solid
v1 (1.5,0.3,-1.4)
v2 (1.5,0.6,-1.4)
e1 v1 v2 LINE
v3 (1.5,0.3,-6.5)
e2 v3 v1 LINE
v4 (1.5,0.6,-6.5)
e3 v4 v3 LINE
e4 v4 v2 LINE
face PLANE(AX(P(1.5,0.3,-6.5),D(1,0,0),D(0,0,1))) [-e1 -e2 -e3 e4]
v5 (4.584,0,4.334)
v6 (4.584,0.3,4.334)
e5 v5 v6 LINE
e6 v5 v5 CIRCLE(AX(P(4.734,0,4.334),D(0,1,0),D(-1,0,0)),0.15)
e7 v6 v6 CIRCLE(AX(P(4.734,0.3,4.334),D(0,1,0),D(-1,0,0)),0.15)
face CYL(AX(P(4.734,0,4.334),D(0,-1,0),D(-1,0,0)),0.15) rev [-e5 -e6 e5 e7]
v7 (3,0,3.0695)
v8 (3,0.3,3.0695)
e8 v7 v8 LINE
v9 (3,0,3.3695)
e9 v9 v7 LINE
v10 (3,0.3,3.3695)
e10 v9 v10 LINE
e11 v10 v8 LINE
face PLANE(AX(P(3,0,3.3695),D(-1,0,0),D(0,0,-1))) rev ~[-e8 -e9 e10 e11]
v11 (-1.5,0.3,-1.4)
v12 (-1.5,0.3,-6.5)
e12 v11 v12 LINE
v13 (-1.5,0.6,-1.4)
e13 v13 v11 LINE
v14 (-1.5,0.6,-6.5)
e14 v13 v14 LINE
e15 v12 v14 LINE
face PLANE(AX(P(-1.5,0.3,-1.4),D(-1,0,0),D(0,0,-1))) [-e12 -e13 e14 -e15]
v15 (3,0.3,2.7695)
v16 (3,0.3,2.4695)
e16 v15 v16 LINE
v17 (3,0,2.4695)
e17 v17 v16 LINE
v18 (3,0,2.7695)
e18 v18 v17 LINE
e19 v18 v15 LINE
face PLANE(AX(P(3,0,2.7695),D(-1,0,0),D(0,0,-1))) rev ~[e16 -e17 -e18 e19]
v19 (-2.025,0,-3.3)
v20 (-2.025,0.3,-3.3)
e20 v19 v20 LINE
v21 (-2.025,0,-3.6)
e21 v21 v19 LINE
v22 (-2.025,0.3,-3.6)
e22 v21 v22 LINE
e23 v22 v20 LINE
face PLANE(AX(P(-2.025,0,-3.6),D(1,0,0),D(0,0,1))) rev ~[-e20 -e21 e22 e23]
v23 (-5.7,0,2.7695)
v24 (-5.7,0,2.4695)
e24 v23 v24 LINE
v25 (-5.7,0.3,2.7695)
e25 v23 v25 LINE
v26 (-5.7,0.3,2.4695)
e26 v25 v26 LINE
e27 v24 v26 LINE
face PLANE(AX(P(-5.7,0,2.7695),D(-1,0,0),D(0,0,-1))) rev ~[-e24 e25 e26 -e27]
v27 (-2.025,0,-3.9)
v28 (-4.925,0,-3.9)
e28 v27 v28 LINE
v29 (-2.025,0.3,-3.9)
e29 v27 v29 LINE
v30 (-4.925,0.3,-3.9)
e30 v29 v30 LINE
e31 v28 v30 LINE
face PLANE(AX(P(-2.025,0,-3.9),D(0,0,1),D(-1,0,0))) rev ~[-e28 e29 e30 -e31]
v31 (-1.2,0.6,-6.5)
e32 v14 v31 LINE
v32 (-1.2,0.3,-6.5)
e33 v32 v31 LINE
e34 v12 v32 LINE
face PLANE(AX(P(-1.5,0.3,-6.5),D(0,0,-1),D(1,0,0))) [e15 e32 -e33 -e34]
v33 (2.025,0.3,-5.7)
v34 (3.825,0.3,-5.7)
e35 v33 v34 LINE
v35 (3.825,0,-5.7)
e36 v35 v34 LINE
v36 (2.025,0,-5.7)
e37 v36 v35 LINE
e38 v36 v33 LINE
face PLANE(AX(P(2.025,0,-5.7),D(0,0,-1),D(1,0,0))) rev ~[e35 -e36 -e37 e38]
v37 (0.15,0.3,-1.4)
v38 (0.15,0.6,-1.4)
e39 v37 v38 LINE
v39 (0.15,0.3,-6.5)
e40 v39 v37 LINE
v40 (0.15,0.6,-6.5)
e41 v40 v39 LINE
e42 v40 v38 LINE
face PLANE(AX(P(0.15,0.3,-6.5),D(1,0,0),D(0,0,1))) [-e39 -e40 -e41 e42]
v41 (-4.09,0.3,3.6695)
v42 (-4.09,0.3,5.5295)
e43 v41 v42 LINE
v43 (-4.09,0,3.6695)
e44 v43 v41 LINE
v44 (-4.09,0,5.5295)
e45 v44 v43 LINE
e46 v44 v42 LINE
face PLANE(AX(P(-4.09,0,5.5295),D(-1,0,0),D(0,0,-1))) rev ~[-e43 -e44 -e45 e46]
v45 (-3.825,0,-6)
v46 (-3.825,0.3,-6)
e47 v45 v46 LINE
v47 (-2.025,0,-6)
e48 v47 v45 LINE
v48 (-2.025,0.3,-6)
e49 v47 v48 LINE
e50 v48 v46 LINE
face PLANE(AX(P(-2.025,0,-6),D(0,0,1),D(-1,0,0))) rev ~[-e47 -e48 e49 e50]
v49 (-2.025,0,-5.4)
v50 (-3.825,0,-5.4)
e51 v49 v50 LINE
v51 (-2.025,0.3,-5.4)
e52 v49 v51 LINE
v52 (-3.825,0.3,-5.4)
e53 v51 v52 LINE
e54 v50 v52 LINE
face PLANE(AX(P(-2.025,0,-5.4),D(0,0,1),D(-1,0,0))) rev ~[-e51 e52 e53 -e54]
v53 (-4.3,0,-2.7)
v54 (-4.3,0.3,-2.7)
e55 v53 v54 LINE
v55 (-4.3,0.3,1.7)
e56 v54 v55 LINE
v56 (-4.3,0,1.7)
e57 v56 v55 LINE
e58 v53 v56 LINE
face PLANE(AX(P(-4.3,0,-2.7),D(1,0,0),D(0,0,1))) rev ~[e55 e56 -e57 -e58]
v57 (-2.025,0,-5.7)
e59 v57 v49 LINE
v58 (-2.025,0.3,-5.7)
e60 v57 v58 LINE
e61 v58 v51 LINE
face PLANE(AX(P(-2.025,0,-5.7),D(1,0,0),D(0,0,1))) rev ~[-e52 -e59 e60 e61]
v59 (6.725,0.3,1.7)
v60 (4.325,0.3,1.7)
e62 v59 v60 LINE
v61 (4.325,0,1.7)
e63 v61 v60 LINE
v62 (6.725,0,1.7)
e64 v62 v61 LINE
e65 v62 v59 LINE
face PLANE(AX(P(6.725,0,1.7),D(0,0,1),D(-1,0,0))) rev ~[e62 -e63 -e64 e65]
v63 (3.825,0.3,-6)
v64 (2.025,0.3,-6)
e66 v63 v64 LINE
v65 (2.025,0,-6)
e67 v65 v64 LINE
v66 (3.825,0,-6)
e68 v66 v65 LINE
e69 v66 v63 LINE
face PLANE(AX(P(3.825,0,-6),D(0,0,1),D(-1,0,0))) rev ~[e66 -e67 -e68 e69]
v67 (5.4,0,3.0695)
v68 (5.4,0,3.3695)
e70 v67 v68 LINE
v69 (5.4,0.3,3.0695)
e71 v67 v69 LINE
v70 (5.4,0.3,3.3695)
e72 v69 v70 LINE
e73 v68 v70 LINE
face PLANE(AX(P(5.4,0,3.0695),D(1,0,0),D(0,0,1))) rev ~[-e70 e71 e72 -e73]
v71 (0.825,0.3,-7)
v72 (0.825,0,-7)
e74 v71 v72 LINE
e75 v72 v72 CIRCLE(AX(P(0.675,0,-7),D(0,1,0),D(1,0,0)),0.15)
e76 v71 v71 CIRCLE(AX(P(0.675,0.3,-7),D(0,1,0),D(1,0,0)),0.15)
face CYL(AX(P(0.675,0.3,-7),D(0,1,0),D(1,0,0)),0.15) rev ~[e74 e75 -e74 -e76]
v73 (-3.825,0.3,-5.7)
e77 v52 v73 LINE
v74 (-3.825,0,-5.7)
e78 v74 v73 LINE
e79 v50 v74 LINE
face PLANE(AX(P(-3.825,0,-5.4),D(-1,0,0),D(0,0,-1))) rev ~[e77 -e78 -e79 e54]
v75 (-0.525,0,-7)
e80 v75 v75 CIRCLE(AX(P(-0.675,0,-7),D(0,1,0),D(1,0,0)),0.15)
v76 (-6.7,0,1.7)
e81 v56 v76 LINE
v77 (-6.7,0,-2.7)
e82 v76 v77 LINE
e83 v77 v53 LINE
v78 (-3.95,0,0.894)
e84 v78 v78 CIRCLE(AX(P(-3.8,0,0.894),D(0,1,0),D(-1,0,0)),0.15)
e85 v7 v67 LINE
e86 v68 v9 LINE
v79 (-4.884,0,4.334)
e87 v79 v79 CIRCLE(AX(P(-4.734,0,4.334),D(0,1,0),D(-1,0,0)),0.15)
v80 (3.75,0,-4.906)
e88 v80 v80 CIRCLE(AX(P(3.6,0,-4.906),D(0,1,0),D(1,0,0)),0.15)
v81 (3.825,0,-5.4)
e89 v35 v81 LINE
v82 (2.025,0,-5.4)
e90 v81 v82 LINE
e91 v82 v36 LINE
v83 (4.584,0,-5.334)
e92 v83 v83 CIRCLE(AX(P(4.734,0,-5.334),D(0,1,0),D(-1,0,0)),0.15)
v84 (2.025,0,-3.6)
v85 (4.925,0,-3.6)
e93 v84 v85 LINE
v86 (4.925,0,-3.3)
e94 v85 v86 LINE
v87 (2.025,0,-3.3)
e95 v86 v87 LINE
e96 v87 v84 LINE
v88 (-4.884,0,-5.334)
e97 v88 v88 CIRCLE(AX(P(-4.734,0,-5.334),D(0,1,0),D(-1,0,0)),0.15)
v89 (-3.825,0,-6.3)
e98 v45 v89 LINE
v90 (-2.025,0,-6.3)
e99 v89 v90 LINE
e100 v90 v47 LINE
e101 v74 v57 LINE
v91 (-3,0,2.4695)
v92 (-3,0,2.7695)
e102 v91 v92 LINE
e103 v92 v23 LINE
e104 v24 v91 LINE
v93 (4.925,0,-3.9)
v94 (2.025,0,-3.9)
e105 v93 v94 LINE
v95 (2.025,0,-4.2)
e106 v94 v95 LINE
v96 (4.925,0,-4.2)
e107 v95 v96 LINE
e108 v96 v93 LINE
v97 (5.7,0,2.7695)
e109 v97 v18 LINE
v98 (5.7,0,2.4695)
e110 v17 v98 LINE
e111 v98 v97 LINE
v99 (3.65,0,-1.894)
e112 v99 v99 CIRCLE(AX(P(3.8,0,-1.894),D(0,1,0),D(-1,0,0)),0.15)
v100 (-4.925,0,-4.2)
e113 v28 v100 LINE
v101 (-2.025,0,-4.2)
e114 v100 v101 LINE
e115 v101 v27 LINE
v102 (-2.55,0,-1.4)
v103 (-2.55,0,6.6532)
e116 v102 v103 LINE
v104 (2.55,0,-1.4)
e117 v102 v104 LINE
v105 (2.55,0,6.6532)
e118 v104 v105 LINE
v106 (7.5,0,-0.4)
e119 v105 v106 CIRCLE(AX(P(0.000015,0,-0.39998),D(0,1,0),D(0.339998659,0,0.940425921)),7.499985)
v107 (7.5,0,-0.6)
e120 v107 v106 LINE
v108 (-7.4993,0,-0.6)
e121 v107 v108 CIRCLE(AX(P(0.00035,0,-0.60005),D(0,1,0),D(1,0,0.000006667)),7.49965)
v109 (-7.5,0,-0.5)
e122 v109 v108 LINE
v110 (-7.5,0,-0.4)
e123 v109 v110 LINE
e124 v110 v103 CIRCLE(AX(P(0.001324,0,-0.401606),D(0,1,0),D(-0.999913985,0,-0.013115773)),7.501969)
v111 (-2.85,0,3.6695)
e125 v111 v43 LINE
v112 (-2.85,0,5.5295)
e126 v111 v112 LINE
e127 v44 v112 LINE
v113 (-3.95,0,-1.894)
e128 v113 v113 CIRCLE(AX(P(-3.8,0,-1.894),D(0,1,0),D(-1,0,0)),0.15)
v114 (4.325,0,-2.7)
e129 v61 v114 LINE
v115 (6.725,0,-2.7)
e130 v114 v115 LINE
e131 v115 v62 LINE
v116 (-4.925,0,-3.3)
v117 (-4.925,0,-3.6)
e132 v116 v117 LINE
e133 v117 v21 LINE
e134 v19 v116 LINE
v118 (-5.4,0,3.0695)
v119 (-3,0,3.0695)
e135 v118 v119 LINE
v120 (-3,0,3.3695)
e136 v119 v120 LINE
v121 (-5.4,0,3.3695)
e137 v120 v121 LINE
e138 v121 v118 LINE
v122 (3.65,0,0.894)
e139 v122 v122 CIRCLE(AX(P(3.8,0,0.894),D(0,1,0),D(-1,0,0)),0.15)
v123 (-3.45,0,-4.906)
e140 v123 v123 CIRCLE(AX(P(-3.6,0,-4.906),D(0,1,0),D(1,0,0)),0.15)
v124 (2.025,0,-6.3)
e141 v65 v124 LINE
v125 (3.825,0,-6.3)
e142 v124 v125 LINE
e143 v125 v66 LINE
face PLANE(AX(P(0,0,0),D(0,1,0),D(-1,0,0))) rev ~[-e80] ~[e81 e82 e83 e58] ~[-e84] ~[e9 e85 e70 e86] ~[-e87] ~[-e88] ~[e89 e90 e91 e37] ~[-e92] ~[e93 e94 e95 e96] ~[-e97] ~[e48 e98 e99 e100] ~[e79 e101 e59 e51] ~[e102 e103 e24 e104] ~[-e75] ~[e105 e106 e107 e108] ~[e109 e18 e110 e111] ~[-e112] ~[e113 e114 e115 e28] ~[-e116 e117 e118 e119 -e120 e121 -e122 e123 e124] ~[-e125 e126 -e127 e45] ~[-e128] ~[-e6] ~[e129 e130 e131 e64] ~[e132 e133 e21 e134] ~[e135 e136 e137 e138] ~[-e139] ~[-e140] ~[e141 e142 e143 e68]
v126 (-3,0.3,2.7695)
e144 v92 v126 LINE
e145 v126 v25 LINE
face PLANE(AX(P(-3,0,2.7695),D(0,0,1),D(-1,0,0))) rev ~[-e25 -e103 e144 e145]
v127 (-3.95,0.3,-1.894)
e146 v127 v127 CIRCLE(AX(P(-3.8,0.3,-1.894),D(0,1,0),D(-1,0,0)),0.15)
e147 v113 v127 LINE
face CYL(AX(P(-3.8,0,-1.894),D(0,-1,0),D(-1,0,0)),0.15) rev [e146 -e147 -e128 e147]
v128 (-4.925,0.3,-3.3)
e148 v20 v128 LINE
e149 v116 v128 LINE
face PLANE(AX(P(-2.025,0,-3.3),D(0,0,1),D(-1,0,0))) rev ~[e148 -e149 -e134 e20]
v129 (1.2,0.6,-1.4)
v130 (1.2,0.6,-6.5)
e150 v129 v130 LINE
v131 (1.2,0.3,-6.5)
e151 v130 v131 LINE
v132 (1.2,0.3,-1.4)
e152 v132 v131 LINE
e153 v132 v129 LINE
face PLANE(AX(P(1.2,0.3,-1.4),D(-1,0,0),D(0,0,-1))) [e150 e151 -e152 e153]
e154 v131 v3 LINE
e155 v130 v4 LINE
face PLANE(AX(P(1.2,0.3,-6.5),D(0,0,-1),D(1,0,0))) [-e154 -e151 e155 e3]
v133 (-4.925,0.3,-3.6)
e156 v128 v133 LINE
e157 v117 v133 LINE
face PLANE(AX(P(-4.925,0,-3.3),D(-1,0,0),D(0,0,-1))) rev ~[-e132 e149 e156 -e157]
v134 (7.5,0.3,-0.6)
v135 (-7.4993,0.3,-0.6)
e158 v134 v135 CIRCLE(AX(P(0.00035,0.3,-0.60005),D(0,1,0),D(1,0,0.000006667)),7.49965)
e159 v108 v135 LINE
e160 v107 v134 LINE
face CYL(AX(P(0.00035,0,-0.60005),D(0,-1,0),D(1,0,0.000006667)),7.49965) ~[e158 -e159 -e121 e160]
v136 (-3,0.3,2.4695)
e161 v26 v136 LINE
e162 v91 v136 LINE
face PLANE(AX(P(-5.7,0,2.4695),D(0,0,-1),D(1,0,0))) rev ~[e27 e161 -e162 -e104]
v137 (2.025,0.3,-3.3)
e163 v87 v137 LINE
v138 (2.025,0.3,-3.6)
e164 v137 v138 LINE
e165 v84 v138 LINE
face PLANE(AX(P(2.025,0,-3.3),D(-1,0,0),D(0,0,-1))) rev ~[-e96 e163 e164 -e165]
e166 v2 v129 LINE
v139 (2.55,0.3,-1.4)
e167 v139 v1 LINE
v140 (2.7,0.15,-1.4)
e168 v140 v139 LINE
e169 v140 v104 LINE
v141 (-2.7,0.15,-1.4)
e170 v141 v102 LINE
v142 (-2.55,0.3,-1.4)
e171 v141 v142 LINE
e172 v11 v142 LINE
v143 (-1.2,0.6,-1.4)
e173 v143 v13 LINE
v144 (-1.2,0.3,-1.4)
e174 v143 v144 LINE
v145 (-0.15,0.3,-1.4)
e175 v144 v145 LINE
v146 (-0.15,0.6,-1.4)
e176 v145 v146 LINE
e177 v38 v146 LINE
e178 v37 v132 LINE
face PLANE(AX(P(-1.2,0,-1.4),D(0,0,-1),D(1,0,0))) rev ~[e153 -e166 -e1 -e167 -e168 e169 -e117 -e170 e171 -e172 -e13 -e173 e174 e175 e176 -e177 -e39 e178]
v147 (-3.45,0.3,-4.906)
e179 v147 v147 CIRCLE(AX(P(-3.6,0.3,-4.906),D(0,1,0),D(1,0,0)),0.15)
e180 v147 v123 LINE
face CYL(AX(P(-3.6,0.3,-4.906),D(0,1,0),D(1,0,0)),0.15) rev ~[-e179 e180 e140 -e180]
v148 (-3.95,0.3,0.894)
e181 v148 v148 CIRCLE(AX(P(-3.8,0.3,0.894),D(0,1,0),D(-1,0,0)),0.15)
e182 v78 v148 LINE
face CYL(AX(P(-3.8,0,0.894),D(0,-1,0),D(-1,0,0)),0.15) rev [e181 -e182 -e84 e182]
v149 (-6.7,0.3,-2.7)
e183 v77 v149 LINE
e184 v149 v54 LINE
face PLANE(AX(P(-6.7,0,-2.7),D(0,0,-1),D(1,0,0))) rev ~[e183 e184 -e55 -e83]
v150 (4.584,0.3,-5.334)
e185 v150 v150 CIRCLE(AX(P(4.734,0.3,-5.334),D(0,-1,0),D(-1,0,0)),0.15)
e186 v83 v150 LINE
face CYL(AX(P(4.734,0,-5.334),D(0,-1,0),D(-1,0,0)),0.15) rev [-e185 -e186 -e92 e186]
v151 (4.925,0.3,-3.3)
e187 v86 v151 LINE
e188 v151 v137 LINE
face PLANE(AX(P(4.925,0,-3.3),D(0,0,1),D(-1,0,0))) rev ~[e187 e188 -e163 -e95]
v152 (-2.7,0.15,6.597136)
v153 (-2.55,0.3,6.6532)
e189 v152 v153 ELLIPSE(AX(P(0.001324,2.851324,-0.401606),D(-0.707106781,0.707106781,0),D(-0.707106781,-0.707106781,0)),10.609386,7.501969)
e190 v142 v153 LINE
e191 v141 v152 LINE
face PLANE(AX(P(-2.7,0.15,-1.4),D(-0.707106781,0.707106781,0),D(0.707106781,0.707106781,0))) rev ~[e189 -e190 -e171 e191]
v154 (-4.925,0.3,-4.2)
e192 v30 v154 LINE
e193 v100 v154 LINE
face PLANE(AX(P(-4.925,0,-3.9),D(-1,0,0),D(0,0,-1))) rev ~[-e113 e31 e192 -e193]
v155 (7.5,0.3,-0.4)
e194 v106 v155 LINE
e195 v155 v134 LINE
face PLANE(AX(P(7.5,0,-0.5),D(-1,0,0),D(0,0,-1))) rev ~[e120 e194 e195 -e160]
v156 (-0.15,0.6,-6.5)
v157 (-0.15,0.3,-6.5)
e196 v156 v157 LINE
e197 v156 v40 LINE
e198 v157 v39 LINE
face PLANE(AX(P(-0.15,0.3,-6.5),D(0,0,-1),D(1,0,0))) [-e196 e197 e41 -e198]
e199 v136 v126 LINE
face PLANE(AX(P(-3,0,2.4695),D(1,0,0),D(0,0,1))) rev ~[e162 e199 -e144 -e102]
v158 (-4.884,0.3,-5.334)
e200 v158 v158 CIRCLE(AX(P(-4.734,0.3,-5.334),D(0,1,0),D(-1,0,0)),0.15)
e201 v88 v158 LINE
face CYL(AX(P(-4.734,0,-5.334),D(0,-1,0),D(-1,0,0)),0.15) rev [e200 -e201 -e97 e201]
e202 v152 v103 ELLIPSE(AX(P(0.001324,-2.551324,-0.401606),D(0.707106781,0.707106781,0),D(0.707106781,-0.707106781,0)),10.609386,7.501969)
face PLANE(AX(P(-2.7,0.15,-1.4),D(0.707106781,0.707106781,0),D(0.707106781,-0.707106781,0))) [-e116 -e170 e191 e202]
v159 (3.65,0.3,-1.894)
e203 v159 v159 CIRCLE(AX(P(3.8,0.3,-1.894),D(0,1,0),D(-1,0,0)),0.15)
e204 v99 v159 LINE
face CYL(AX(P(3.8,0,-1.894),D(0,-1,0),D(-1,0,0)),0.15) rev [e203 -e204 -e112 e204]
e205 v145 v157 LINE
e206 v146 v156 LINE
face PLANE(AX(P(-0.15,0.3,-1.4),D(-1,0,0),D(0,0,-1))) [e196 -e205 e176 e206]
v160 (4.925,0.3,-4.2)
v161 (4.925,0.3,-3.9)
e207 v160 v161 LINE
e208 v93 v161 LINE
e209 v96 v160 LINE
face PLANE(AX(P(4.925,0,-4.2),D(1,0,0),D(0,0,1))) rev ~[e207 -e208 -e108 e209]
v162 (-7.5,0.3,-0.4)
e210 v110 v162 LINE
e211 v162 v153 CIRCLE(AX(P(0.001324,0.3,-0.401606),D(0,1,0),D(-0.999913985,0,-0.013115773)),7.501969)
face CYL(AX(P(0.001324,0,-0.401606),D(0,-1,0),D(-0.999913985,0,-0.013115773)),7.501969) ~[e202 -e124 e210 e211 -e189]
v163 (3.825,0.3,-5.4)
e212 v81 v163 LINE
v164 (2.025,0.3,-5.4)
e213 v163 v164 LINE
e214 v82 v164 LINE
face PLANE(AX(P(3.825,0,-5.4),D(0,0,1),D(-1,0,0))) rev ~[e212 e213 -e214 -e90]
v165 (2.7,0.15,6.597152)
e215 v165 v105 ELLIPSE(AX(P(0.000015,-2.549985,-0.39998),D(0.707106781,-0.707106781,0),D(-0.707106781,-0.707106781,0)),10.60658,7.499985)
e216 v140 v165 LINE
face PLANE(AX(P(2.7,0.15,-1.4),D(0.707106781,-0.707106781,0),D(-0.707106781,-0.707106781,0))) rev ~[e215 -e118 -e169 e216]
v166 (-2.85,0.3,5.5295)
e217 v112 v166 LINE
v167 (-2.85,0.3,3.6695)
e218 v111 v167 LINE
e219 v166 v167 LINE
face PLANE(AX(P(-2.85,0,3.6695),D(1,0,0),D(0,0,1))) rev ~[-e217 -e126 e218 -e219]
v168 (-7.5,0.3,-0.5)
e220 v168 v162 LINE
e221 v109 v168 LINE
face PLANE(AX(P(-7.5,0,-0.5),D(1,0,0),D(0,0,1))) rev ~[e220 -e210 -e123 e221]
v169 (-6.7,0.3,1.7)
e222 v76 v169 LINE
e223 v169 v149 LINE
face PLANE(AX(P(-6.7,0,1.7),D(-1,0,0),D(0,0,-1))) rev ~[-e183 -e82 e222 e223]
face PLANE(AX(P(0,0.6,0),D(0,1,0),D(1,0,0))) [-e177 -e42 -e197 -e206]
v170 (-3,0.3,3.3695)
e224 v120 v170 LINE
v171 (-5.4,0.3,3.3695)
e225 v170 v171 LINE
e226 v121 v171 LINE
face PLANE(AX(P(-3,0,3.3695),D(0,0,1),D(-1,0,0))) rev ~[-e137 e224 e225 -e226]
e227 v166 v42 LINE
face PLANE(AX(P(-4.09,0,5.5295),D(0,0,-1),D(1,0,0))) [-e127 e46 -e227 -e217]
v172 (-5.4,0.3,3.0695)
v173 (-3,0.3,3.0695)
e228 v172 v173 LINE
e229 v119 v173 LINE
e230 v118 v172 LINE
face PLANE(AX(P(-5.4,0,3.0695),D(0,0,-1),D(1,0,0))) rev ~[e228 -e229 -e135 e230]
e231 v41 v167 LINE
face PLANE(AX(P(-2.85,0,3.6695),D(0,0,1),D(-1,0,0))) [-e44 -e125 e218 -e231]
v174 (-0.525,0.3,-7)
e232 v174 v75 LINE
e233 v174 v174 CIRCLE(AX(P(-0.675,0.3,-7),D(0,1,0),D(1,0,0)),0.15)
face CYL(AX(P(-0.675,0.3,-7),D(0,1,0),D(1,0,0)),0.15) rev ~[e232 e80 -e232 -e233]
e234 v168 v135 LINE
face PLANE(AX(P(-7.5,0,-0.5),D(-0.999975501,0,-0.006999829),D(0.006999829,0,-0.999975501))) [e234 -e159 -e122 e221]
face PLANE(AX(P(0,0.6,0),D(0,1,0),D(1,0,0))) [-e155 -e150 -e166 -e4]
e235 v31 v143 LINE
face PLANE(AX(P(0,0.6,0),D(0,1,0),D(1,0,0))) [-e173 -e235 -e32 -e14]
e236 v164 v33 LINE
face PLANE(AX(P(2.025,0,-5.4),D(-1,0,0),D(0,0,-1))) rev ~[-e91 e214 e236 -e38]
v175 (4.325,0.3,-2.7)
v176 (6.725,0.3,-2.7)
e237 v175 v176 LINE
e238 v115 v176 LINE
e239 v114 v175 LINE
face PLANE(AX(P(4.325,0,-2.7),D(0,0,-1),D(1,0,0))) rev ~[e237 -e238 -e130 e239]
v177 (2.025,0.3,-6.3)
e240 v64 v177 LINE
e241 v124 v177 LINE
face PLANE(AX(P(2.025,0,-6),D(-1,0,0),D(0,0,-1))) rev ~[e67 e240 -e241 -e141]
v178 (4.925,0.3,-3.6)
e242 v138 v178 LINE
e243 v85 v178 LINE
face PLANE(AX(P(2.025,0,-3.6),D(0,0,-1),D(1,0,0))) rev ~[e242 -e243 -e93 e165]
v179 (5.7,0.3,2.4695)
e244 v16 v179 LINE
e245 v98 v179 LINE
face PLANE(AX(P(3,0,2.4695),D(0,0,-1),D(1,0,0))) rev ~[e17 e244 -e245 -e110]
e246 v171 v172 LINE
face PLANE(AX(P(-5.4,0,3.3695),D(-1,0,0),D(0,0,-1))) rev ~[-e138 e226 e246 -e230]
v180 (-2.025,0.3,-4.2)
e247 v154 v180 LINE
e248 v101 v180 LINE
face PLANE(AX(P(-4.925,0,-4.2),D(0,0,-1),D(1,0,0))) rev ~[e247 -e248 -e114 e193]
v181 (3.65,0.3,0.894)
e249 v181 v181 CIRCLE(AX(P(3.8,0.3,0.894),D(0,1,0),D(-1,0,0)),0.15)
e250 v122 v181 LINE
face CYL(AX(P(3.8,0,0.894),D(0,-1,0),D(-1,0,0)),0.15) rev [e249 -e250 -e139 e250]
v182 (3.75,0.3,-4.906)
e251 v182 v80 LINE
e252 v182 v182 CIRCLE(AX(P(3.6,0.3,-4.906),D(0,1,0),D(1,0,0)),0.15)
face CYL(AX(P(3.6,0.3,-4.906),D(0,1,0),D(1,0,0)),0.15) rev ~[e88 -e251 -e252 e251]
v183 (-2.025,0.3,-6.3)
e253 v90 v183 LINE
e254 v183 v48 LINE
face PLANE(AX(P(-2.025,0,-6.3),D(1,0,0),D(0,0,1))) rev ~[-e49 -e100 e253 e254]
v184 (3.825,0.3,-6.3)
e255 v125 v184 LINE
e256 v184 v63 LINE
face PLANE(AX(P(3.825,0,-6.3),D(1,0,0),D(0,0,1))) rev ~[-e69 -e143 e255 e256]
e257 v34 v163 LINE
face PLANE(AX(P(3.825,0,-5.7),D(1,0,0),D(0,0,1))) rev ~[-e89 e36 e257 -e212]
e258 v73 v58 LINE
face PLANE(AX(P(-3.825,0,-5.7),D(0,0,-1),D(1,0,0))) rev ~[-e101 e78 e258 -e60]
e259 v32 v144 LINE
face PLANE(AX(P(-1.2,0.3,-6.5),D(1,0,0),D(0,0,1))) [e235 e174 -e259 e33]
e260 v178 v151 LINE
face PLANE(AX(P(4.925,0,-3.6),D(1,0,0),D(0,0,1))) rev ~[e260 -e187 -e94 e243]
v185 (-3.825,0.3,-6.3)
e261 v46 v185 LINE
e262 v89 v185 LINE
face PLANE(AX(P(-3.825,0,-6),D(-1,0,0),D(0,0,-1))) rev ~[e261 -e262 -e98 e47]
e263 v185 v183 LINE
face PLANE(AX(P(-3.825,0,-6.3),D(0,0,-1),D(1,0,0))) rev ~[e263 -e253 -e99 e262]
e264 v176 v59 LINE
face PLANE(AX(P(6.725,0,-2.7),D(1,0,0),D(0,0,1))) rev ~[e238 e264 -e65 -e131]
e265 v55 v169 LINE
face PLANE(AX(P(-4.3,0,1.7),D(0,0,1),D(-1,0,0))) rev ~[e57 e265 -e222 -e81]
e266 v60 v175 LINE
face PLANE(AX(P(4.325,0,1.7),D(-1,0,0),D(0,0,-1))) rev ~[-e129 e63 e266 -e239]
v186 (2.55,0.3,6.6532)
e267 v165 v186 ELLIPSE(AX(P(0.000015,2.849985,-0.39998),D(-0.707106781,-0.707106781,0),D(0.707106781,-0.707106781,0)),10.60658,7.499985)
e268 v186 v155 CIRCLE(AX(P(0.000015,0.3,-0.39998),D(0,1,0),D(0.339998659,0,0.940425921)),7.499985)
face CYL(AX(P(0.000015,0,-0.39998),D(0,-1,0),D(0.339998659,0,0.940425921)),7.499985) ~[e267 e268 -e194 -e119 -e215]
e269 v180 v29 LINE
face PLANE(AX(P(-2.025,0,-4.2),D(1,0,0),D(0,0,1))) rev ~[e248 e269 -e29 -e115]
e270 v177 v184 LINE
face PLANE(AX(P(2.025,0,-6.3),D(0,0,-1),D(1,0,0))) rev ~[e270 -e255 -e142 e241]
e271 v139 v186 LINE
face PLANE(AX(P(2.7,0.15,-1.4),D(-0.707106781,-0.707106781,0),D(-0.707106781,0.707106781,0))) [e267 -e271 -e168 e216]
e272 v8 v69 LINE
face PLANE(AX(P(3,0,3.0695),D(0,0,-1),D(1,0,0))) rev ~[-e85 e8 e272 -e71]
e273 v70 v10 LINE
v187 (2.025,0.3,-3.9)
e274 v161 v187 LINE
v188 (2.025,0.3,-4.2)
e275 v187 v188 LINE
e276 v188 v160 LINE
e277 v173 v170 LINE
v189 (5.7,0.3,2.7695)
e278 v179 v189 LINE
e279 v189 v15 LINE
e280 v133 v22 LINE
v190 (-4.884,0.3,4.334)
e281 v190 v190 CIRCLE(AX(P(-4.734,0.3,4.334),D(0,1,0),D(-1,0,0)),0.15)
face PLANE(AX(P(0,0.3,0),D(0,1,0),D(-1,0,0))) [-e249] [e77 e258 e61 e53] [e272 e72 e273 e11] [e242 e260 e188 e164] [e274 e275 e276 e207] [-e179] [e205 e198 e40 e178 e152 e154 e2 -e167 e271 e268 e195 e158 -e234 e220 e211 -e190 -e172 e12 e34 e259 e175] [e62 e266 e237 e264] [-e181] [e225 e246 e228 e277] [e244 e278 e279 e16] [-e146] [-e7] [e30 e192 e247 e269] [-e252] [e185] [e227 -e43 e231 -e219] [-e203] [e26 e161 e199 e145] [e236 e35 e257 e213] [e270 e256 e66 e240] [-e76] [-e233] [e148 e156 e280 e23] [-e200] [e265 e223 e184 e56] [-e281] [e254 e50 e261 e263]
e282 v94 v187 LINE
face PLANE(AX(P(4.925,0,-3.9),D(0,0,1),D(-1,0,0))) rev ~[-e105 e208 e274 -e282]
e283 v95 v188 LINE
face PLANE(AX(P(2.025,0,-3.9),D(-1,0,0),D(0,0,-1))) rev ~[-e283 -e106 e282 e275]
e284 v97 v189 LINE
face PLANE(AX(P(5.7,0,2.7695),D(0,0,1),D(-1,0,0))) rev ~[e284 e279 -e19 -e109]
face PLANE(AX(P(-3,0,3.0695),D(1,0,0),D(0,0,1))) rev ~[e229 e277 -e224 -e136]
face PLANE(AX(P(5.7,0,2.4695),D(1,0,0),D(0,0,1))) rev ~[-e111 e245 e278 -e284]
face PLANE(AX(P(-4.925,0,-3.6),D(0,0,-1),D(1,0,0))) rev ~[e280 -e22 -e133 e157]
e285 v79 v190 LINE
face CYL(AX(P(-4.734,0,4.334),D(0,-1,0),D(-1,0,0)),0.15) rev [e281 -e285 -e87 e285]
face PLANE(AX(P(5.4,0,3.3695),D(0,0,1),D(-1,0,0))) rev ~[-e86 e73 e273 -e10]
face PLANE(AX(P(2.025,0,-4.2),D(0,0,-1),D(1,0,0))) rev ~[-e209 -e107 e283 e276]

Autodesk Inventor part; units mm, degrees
ref_plane "YZ Plane" through (0, 0, 0) normal (1, 0, 0) x (0, 1, 0)
ref_plane "XZ Plane" through (0, 0, 0) normal (0, 1, 0) x (-1, 0, 0)
ref_plane "XY Plane" through (0, 0, 0) normal (0, 0, 1) x (1, 0, 0)
sketch "Boceto1" plane through (0, 0, 0) normal (0, 1, 0) x (-1, 0, 0)
  line L0 (4.925, -3.9) -> (4.925, -4.2)
  line L1 (4.925, -4.2) -> (2.025, -4.2)
  line L2 (2.025, -4.2) -> (2.025, -3.9)
  line L3 (2.025, -3.9) -> (4.925, -3.9)
  line L4 (-4.925, -3.3) -> (-2.025, -3.3)
  line L5 (-2.025, -3.3) -> (-2.025, -3.6)
  line L6 (-2.025, -3.6) -> (-4.925, -3.6)
  line L7 (-4.925, -3.6) -> (-4.925, -3.3)
  line L8 (3, 2.4695) -> (3, 2.7695)
  line L9 (3, 2.7695) -> (5.7, 2.7695)
  line L10 (5.7, 2.7695) -> (5.7, 2.4695)
  line L11 (5.7, 2.4695) -> (3, 2.4695)
  line L12 (3, 3.0695) -> (3, 3.3695)
  line L13 (3, 3.3695) -> (5.4, 3.3695)
  line L14 (5.4, 3.3695) -> (5.4, 3.0695)
  line L15 (5.4, 3.0695) -> (3, 3.0695)
  line L16 (2.025, -5.4) -> (3.825, -5.4)
  line L17 (3.825, -5.4) -> (3.825, -5.7)
  line L18 (3.825, -5.7) -> (2.025, -5.7)
  line L19 (2.025, -5.7) -> (2.025, -5.4)
  line L20 (-3.825, -5.7) -> (-3.825, -5.4)
  line L21 (-3.825, -5.4) -> (-2.025, -5.4)
  line L22 (-2.025, -5.4) -> (-2.025, -5.7)
  line L23 (-2.025, -5.7) -> (-3.825, -5.7)
  line L24 (-3.825, -6.3) -> (-3.825, -6)
  line L25 (-3.825, -6) -> (-2.025, -6)
  line L26 (-2.025, -6) -> (-2.025, -6.3)
  line L27 (-2.025, -6.3) -> (-3.825, -6.3)
  line L28 (2.025, -6.3) -> (2.025, -6)
  line L29 (2.025, -6) -> (3.825, -6)
  line L30 (3.825, -6) -> (3.825, -6.3)
  line L31 (3.825, -6.3) -> (2.025, -6.3)
  line L32 (-3, 3.3695) -> (-3, 3.0695)
  line L33 (-3, 3.0695) -> (-5.4, 3.0695)
  line L34 (-5.4, 3.0695) -> (-5.4, 3.3695)
  line L35 (-5.4, 3.3695) -> (-3, 3.3695)
  line L36 (-3, 2.7695) -> (-3, 2.4695)
  line L37 (-3, 2.4695) -> (-5.7, 2.4695)
  line L38 (-5.7, 2.4695) -> (-5.7, 2.7695)
  line L39 (-5.7, 2.7695) -> (-3, 2.7695)
  line L40 (-4.925, -4.2) -> (-4.925, -3.9)
  line L41 (-4.925, -3.9) -> (-2.025, -3.9)
  line L42 (-2.025, -3.9) -> (-2.025, -4.2)
  line L43 (-2.025, -4.2) -> (-4.925, -4.2)
  line L44 (4.925, -3.6) -> (2.025, -3.6)
  line L45 (2.025, -3.6) -> (2.025, -3.3)
  line L46 (2.025, -3.3) -> (4.925, -3.3)
  line L47 (4.925, -3.3) -> (4.925, -3.6)
  line L48 (0.15, -6.5) -> (-0.15, -6.5)
  line L49 (-1.2, -6.5) -> (-1.5, -6.5)
  line L50 (1.5, -6.5) -> (1.2, -6.5)
  line L51 (-6.725, -2.7) -> (-6.725, 1.7)
  line L52 (-6.725, 1.7) -> (-4.325, 1.7)
  line L53 (-4.325, 1.7) -> (-4.325, -2.7)
  line L54 (-4.325, -2.7) -> (-6.725, -2.7)
  line L55 (4.3, -2.7) -> (4.3, 1.7)
  line L56 (4.3, 1.7) -> (6.7, 1.7)
  line L57 (6.7, 1.7) -> (6.7, -2.7)
  line L58 (6.7, -2.7) -> (4.3, -2.7)
  circle A0 centre (-4.734, 4.334) radius 0.15
  circle A1 centre (4.734, 4.334) radius 0.15
  circle A2 centre (-4.734, -5.334) radius 0.15
  circle A3 centre (4.734, -5.334) radius 0.15
  circle A4 centre (-3.8, 0.894) radius 0.15
  circle A5 centre (-3.8, -1.894) radius 0.15
  circle A6 centre (3.8, 0.894) radius 0.15
  circle A7 centre (3.8, -1.894) radius 0.15
  line L59 (2.55, -1.4) -> (-2.55, -1.4)
  line L60 (1.5, -1.4) -> (1.5, -6.5)
  line L61 (1.2, -6.5) -> (1.2, -1.4)
  line L62 (0.15, -1.4) -> (0.15, -6.5)
  line L63 (-0.15, -6.5) -> (-0.15, -1.4)
  line L64 (-1.5, -6.5) -> (-1.5, -1.4)
  line L65 (-1.2, -1.4) -> (-1.2, -6.5)
  line L66 (2.55, -1.4) -> (2.55, 6.6532)
  line L67 (-2.55, -1.4) -> (-2.55, 6.6532)
  line L68 (-7.5, -0.5) -> (-7.5, -0.4)
  line L69 (7.5, -0.5) -> (7.5, -0.4)
  line L70 (-7.5, -0.5) -> (-7.5, -0.6)
  line L71 (7.4993, -0.5) -> (7.4993, -0.6)
  arc A8 (-7.5, -0.6) -> (7.4993, -0.6) centre (-0.0003, -0.6) ccw
  arc A9 (7.4993, -0.5) -> (2.55, 6.6532) centre (0, -0.4) ccw
  arc A10 (-2.55, 6.6532) -> (-7.5, -0.4) centre (0, -0.4) ccw
  line L72 (-4.734, -5.184) -> (-5.4457, -5.184)
  line L73 (-4.734, -5.184) -> (-4.734, -5.334)
  point P0 (2.352, 6.909)
  dimension "d13" = 0.1
  dimension "d14" = 0.1
  dimension "d15" = 0.1
extrude "Extrusión1" add sketch "Boceto1" along normal blind 0.3 contours L62 L59 L61 L50 L60 L66 A9 L69 L71 A8 L70 L68 A10 L67 L64 L49 L65 L63 L48
sketch "Boceto2" plane through (0, 0.3, 0) normal (0, 1, 0) x (1, 0, 0)
  line L0 (-1.2, 6.5) -> (-1.2, 1.4) projected
  line L1 (-1.5, 1.4) -> (-1.5, 6.5) projected
  line L2 (-0.15, 1.4) -> (-0.15, 6.5) projected
  line L3 (0.15, 6.5) -> (0.15, 1.4) projected
  line L4 (1.2, 1.4) -> (1.2, 6.5) projected
  line L5 (1.5, 6.5) -> (1.5, 1.4) projected
  line L6 (1.2, 6.5) -> (1.5, 6.5) projected
  line L7 (-0.15, 6.5) -> (0.15, 6.5) projected
  line L8 (-1.5, 6.5) -> (-1.2, 6.5) projected
  line L9 (-1.5, 6.5) -> (-1.2, 6.5)
  line L10 (-1.2, 6.5) -> (-1.2, 1.4)
  line L11 (-1.2, 1.4) -> (-1.5, 1.4)
  line L12 (-1.5, 1.4) -> (-1.5, 6.5)
  line L13 (-0.15, 6.5) -> (0.15, 6.5)
  line L14 (0.15, 6.5) -> (0.15, 1.4)
  line L15 (0.15, 1.4) -> (-0.15, 1.4)
  line L16 (-0.15, 1.4) -> (-0.15, 6.5)
  line L17 (1.2, 6.5) -> (1.5, 6.5)
  line L18 (1.5, 6.5) -> (1.5, 1.4)
  line L19 (1.5, 1.4) -> (1.2, 1.4)
  line L20 (1.2, 1.4) -> (1.2, 6.5)
  point P0 (0, 0)
extrude "Extrusión2" add sketch "Boceto2" along normal mid plane 0.6
sketch "Boceto3" plane through (-2.4, 0, -1.4) normal (0, 0, 1) x (1, 0, 0)
  line L0 (0, 0) -> (4.8, 0)
  line L1 (0, 0.3) -> (4.8, 0.3)
  line L2 (0, 0.3) -> (4.8, 0.3)
  line L3 (9.9, 0.3) -> (-5.1, 0.3)
  line L4 (4.8, 0) -> (0, 0)
  line L5 (9.9, 0) -> (-5.1, 0)
  line L6 (-0.3, 0.15) -> (-0.15, 0)
  line L7 (-0.3, 0.15) -> (-0.15, 0.3)
  line L8 (5.1, 0.15) -> (4.95, 0.3)
  line L9 (5.1, 0.15) -> (4.95, 0)
  line L10 (-0.15, 0.3) -> (4.95, 0.3)
  line L11 (4.95, 0) -> (-0.15, 0)
  point P0 (2.4, 0)
  point P1 (0.048, 0)
  point P2 (4.752, 0)
extrude "Extrusión3" cut sketch "Boceto3" along normal blind 10
sketch "Boceto4" plane through (0, 0.3, 0) normal (0, 1, 0) x (1, 0, 0)
  circle A0 centre (-0.675, 7) radius 0.15
  line L0 (4.325, -1.7) -> (4.325, 2.7)
  circle A1 centre (0.675, 7) radius 0.15
  line L1 (-6.7, -1.7) -> (-6.7, 2.7)
  line L2 (-6.7, 2.7) -> (-4.3, 2.7)
  line L3 (-4.3, 2.7) -> (-4.3, -1.7)
  line L4 (-4.3, -1.7) -> (-6.7, -1.7)
  line L5 (4.325, 2.7) -> (6.725, 2.7)
  line L6 (6.725, 2.7) -> (6.725, -1.7)
  line L7 (-3.825, 5.8) -> (-2.025, 5.8)
  line L8 (-2.025, 5.5) -> (-3.825, 5.5)
  line L9 (2.025, 5.8) -> (3.825, 5.8)
  line L10 (3.825, 5.5) -> (2.025, 5.5)
  line L11 (4.325, 2.7) -> (6.725, 2.7) projected
  line L12 (2.025, 6.3) -> (3.825, 6.3) projected
  point P0 (0, 0)
extrude "Extrusión4" cut sketch "Boceto4" against normal blind 10 contours A0 | A1
sketch "Boceto8" plane through (0, 0.3, 0) normal (0, 1, 0) x (1, 0, 0)
  circle A0 centre (-3.8, -0.894) radius 0.15 projected
  line L0 (0, 0) -> (0, -2.4412)
  circle A1 centre (3.8, -0.894) radius 0.15
  circle A2 centre (3.6, 4.906) radius 0.15
  circle A3 centre (-3.6, 4.906) radius 0.15
  dimension "d33" = 0.3
  dimension "d34" = 0.3
extrude "Extrusión6" cut sketch "Boceto8" against normal blind 10 contours A2 | A3
sketch "Boceto9" plane through (0, 0, 0) normal (0, -1, 0) x (1, 0, 0)
  line L0 (-2.85, 3.6695) -> (-4.09, 3.6695)
  line L1 (-4.09, 5.5295) -> (-4.09, 3.6695)
  line L2 (-2.85, 3.6695) -> (-2.85, 5.5295)
  line L3 (-4.09, 5.5295) -> (-2.85, 5.5295)
  line L4 (-3, 3.3695) -> (-5.4, 3.3695) projected
  line L5 (-2.55, 6.6532) -> (-2.55, -1.4) projected
  point P0 (0, 0)
extrude "Extrusión7" cut sketch "Boceto9" against normal blind 10
properties part number "LBase"
